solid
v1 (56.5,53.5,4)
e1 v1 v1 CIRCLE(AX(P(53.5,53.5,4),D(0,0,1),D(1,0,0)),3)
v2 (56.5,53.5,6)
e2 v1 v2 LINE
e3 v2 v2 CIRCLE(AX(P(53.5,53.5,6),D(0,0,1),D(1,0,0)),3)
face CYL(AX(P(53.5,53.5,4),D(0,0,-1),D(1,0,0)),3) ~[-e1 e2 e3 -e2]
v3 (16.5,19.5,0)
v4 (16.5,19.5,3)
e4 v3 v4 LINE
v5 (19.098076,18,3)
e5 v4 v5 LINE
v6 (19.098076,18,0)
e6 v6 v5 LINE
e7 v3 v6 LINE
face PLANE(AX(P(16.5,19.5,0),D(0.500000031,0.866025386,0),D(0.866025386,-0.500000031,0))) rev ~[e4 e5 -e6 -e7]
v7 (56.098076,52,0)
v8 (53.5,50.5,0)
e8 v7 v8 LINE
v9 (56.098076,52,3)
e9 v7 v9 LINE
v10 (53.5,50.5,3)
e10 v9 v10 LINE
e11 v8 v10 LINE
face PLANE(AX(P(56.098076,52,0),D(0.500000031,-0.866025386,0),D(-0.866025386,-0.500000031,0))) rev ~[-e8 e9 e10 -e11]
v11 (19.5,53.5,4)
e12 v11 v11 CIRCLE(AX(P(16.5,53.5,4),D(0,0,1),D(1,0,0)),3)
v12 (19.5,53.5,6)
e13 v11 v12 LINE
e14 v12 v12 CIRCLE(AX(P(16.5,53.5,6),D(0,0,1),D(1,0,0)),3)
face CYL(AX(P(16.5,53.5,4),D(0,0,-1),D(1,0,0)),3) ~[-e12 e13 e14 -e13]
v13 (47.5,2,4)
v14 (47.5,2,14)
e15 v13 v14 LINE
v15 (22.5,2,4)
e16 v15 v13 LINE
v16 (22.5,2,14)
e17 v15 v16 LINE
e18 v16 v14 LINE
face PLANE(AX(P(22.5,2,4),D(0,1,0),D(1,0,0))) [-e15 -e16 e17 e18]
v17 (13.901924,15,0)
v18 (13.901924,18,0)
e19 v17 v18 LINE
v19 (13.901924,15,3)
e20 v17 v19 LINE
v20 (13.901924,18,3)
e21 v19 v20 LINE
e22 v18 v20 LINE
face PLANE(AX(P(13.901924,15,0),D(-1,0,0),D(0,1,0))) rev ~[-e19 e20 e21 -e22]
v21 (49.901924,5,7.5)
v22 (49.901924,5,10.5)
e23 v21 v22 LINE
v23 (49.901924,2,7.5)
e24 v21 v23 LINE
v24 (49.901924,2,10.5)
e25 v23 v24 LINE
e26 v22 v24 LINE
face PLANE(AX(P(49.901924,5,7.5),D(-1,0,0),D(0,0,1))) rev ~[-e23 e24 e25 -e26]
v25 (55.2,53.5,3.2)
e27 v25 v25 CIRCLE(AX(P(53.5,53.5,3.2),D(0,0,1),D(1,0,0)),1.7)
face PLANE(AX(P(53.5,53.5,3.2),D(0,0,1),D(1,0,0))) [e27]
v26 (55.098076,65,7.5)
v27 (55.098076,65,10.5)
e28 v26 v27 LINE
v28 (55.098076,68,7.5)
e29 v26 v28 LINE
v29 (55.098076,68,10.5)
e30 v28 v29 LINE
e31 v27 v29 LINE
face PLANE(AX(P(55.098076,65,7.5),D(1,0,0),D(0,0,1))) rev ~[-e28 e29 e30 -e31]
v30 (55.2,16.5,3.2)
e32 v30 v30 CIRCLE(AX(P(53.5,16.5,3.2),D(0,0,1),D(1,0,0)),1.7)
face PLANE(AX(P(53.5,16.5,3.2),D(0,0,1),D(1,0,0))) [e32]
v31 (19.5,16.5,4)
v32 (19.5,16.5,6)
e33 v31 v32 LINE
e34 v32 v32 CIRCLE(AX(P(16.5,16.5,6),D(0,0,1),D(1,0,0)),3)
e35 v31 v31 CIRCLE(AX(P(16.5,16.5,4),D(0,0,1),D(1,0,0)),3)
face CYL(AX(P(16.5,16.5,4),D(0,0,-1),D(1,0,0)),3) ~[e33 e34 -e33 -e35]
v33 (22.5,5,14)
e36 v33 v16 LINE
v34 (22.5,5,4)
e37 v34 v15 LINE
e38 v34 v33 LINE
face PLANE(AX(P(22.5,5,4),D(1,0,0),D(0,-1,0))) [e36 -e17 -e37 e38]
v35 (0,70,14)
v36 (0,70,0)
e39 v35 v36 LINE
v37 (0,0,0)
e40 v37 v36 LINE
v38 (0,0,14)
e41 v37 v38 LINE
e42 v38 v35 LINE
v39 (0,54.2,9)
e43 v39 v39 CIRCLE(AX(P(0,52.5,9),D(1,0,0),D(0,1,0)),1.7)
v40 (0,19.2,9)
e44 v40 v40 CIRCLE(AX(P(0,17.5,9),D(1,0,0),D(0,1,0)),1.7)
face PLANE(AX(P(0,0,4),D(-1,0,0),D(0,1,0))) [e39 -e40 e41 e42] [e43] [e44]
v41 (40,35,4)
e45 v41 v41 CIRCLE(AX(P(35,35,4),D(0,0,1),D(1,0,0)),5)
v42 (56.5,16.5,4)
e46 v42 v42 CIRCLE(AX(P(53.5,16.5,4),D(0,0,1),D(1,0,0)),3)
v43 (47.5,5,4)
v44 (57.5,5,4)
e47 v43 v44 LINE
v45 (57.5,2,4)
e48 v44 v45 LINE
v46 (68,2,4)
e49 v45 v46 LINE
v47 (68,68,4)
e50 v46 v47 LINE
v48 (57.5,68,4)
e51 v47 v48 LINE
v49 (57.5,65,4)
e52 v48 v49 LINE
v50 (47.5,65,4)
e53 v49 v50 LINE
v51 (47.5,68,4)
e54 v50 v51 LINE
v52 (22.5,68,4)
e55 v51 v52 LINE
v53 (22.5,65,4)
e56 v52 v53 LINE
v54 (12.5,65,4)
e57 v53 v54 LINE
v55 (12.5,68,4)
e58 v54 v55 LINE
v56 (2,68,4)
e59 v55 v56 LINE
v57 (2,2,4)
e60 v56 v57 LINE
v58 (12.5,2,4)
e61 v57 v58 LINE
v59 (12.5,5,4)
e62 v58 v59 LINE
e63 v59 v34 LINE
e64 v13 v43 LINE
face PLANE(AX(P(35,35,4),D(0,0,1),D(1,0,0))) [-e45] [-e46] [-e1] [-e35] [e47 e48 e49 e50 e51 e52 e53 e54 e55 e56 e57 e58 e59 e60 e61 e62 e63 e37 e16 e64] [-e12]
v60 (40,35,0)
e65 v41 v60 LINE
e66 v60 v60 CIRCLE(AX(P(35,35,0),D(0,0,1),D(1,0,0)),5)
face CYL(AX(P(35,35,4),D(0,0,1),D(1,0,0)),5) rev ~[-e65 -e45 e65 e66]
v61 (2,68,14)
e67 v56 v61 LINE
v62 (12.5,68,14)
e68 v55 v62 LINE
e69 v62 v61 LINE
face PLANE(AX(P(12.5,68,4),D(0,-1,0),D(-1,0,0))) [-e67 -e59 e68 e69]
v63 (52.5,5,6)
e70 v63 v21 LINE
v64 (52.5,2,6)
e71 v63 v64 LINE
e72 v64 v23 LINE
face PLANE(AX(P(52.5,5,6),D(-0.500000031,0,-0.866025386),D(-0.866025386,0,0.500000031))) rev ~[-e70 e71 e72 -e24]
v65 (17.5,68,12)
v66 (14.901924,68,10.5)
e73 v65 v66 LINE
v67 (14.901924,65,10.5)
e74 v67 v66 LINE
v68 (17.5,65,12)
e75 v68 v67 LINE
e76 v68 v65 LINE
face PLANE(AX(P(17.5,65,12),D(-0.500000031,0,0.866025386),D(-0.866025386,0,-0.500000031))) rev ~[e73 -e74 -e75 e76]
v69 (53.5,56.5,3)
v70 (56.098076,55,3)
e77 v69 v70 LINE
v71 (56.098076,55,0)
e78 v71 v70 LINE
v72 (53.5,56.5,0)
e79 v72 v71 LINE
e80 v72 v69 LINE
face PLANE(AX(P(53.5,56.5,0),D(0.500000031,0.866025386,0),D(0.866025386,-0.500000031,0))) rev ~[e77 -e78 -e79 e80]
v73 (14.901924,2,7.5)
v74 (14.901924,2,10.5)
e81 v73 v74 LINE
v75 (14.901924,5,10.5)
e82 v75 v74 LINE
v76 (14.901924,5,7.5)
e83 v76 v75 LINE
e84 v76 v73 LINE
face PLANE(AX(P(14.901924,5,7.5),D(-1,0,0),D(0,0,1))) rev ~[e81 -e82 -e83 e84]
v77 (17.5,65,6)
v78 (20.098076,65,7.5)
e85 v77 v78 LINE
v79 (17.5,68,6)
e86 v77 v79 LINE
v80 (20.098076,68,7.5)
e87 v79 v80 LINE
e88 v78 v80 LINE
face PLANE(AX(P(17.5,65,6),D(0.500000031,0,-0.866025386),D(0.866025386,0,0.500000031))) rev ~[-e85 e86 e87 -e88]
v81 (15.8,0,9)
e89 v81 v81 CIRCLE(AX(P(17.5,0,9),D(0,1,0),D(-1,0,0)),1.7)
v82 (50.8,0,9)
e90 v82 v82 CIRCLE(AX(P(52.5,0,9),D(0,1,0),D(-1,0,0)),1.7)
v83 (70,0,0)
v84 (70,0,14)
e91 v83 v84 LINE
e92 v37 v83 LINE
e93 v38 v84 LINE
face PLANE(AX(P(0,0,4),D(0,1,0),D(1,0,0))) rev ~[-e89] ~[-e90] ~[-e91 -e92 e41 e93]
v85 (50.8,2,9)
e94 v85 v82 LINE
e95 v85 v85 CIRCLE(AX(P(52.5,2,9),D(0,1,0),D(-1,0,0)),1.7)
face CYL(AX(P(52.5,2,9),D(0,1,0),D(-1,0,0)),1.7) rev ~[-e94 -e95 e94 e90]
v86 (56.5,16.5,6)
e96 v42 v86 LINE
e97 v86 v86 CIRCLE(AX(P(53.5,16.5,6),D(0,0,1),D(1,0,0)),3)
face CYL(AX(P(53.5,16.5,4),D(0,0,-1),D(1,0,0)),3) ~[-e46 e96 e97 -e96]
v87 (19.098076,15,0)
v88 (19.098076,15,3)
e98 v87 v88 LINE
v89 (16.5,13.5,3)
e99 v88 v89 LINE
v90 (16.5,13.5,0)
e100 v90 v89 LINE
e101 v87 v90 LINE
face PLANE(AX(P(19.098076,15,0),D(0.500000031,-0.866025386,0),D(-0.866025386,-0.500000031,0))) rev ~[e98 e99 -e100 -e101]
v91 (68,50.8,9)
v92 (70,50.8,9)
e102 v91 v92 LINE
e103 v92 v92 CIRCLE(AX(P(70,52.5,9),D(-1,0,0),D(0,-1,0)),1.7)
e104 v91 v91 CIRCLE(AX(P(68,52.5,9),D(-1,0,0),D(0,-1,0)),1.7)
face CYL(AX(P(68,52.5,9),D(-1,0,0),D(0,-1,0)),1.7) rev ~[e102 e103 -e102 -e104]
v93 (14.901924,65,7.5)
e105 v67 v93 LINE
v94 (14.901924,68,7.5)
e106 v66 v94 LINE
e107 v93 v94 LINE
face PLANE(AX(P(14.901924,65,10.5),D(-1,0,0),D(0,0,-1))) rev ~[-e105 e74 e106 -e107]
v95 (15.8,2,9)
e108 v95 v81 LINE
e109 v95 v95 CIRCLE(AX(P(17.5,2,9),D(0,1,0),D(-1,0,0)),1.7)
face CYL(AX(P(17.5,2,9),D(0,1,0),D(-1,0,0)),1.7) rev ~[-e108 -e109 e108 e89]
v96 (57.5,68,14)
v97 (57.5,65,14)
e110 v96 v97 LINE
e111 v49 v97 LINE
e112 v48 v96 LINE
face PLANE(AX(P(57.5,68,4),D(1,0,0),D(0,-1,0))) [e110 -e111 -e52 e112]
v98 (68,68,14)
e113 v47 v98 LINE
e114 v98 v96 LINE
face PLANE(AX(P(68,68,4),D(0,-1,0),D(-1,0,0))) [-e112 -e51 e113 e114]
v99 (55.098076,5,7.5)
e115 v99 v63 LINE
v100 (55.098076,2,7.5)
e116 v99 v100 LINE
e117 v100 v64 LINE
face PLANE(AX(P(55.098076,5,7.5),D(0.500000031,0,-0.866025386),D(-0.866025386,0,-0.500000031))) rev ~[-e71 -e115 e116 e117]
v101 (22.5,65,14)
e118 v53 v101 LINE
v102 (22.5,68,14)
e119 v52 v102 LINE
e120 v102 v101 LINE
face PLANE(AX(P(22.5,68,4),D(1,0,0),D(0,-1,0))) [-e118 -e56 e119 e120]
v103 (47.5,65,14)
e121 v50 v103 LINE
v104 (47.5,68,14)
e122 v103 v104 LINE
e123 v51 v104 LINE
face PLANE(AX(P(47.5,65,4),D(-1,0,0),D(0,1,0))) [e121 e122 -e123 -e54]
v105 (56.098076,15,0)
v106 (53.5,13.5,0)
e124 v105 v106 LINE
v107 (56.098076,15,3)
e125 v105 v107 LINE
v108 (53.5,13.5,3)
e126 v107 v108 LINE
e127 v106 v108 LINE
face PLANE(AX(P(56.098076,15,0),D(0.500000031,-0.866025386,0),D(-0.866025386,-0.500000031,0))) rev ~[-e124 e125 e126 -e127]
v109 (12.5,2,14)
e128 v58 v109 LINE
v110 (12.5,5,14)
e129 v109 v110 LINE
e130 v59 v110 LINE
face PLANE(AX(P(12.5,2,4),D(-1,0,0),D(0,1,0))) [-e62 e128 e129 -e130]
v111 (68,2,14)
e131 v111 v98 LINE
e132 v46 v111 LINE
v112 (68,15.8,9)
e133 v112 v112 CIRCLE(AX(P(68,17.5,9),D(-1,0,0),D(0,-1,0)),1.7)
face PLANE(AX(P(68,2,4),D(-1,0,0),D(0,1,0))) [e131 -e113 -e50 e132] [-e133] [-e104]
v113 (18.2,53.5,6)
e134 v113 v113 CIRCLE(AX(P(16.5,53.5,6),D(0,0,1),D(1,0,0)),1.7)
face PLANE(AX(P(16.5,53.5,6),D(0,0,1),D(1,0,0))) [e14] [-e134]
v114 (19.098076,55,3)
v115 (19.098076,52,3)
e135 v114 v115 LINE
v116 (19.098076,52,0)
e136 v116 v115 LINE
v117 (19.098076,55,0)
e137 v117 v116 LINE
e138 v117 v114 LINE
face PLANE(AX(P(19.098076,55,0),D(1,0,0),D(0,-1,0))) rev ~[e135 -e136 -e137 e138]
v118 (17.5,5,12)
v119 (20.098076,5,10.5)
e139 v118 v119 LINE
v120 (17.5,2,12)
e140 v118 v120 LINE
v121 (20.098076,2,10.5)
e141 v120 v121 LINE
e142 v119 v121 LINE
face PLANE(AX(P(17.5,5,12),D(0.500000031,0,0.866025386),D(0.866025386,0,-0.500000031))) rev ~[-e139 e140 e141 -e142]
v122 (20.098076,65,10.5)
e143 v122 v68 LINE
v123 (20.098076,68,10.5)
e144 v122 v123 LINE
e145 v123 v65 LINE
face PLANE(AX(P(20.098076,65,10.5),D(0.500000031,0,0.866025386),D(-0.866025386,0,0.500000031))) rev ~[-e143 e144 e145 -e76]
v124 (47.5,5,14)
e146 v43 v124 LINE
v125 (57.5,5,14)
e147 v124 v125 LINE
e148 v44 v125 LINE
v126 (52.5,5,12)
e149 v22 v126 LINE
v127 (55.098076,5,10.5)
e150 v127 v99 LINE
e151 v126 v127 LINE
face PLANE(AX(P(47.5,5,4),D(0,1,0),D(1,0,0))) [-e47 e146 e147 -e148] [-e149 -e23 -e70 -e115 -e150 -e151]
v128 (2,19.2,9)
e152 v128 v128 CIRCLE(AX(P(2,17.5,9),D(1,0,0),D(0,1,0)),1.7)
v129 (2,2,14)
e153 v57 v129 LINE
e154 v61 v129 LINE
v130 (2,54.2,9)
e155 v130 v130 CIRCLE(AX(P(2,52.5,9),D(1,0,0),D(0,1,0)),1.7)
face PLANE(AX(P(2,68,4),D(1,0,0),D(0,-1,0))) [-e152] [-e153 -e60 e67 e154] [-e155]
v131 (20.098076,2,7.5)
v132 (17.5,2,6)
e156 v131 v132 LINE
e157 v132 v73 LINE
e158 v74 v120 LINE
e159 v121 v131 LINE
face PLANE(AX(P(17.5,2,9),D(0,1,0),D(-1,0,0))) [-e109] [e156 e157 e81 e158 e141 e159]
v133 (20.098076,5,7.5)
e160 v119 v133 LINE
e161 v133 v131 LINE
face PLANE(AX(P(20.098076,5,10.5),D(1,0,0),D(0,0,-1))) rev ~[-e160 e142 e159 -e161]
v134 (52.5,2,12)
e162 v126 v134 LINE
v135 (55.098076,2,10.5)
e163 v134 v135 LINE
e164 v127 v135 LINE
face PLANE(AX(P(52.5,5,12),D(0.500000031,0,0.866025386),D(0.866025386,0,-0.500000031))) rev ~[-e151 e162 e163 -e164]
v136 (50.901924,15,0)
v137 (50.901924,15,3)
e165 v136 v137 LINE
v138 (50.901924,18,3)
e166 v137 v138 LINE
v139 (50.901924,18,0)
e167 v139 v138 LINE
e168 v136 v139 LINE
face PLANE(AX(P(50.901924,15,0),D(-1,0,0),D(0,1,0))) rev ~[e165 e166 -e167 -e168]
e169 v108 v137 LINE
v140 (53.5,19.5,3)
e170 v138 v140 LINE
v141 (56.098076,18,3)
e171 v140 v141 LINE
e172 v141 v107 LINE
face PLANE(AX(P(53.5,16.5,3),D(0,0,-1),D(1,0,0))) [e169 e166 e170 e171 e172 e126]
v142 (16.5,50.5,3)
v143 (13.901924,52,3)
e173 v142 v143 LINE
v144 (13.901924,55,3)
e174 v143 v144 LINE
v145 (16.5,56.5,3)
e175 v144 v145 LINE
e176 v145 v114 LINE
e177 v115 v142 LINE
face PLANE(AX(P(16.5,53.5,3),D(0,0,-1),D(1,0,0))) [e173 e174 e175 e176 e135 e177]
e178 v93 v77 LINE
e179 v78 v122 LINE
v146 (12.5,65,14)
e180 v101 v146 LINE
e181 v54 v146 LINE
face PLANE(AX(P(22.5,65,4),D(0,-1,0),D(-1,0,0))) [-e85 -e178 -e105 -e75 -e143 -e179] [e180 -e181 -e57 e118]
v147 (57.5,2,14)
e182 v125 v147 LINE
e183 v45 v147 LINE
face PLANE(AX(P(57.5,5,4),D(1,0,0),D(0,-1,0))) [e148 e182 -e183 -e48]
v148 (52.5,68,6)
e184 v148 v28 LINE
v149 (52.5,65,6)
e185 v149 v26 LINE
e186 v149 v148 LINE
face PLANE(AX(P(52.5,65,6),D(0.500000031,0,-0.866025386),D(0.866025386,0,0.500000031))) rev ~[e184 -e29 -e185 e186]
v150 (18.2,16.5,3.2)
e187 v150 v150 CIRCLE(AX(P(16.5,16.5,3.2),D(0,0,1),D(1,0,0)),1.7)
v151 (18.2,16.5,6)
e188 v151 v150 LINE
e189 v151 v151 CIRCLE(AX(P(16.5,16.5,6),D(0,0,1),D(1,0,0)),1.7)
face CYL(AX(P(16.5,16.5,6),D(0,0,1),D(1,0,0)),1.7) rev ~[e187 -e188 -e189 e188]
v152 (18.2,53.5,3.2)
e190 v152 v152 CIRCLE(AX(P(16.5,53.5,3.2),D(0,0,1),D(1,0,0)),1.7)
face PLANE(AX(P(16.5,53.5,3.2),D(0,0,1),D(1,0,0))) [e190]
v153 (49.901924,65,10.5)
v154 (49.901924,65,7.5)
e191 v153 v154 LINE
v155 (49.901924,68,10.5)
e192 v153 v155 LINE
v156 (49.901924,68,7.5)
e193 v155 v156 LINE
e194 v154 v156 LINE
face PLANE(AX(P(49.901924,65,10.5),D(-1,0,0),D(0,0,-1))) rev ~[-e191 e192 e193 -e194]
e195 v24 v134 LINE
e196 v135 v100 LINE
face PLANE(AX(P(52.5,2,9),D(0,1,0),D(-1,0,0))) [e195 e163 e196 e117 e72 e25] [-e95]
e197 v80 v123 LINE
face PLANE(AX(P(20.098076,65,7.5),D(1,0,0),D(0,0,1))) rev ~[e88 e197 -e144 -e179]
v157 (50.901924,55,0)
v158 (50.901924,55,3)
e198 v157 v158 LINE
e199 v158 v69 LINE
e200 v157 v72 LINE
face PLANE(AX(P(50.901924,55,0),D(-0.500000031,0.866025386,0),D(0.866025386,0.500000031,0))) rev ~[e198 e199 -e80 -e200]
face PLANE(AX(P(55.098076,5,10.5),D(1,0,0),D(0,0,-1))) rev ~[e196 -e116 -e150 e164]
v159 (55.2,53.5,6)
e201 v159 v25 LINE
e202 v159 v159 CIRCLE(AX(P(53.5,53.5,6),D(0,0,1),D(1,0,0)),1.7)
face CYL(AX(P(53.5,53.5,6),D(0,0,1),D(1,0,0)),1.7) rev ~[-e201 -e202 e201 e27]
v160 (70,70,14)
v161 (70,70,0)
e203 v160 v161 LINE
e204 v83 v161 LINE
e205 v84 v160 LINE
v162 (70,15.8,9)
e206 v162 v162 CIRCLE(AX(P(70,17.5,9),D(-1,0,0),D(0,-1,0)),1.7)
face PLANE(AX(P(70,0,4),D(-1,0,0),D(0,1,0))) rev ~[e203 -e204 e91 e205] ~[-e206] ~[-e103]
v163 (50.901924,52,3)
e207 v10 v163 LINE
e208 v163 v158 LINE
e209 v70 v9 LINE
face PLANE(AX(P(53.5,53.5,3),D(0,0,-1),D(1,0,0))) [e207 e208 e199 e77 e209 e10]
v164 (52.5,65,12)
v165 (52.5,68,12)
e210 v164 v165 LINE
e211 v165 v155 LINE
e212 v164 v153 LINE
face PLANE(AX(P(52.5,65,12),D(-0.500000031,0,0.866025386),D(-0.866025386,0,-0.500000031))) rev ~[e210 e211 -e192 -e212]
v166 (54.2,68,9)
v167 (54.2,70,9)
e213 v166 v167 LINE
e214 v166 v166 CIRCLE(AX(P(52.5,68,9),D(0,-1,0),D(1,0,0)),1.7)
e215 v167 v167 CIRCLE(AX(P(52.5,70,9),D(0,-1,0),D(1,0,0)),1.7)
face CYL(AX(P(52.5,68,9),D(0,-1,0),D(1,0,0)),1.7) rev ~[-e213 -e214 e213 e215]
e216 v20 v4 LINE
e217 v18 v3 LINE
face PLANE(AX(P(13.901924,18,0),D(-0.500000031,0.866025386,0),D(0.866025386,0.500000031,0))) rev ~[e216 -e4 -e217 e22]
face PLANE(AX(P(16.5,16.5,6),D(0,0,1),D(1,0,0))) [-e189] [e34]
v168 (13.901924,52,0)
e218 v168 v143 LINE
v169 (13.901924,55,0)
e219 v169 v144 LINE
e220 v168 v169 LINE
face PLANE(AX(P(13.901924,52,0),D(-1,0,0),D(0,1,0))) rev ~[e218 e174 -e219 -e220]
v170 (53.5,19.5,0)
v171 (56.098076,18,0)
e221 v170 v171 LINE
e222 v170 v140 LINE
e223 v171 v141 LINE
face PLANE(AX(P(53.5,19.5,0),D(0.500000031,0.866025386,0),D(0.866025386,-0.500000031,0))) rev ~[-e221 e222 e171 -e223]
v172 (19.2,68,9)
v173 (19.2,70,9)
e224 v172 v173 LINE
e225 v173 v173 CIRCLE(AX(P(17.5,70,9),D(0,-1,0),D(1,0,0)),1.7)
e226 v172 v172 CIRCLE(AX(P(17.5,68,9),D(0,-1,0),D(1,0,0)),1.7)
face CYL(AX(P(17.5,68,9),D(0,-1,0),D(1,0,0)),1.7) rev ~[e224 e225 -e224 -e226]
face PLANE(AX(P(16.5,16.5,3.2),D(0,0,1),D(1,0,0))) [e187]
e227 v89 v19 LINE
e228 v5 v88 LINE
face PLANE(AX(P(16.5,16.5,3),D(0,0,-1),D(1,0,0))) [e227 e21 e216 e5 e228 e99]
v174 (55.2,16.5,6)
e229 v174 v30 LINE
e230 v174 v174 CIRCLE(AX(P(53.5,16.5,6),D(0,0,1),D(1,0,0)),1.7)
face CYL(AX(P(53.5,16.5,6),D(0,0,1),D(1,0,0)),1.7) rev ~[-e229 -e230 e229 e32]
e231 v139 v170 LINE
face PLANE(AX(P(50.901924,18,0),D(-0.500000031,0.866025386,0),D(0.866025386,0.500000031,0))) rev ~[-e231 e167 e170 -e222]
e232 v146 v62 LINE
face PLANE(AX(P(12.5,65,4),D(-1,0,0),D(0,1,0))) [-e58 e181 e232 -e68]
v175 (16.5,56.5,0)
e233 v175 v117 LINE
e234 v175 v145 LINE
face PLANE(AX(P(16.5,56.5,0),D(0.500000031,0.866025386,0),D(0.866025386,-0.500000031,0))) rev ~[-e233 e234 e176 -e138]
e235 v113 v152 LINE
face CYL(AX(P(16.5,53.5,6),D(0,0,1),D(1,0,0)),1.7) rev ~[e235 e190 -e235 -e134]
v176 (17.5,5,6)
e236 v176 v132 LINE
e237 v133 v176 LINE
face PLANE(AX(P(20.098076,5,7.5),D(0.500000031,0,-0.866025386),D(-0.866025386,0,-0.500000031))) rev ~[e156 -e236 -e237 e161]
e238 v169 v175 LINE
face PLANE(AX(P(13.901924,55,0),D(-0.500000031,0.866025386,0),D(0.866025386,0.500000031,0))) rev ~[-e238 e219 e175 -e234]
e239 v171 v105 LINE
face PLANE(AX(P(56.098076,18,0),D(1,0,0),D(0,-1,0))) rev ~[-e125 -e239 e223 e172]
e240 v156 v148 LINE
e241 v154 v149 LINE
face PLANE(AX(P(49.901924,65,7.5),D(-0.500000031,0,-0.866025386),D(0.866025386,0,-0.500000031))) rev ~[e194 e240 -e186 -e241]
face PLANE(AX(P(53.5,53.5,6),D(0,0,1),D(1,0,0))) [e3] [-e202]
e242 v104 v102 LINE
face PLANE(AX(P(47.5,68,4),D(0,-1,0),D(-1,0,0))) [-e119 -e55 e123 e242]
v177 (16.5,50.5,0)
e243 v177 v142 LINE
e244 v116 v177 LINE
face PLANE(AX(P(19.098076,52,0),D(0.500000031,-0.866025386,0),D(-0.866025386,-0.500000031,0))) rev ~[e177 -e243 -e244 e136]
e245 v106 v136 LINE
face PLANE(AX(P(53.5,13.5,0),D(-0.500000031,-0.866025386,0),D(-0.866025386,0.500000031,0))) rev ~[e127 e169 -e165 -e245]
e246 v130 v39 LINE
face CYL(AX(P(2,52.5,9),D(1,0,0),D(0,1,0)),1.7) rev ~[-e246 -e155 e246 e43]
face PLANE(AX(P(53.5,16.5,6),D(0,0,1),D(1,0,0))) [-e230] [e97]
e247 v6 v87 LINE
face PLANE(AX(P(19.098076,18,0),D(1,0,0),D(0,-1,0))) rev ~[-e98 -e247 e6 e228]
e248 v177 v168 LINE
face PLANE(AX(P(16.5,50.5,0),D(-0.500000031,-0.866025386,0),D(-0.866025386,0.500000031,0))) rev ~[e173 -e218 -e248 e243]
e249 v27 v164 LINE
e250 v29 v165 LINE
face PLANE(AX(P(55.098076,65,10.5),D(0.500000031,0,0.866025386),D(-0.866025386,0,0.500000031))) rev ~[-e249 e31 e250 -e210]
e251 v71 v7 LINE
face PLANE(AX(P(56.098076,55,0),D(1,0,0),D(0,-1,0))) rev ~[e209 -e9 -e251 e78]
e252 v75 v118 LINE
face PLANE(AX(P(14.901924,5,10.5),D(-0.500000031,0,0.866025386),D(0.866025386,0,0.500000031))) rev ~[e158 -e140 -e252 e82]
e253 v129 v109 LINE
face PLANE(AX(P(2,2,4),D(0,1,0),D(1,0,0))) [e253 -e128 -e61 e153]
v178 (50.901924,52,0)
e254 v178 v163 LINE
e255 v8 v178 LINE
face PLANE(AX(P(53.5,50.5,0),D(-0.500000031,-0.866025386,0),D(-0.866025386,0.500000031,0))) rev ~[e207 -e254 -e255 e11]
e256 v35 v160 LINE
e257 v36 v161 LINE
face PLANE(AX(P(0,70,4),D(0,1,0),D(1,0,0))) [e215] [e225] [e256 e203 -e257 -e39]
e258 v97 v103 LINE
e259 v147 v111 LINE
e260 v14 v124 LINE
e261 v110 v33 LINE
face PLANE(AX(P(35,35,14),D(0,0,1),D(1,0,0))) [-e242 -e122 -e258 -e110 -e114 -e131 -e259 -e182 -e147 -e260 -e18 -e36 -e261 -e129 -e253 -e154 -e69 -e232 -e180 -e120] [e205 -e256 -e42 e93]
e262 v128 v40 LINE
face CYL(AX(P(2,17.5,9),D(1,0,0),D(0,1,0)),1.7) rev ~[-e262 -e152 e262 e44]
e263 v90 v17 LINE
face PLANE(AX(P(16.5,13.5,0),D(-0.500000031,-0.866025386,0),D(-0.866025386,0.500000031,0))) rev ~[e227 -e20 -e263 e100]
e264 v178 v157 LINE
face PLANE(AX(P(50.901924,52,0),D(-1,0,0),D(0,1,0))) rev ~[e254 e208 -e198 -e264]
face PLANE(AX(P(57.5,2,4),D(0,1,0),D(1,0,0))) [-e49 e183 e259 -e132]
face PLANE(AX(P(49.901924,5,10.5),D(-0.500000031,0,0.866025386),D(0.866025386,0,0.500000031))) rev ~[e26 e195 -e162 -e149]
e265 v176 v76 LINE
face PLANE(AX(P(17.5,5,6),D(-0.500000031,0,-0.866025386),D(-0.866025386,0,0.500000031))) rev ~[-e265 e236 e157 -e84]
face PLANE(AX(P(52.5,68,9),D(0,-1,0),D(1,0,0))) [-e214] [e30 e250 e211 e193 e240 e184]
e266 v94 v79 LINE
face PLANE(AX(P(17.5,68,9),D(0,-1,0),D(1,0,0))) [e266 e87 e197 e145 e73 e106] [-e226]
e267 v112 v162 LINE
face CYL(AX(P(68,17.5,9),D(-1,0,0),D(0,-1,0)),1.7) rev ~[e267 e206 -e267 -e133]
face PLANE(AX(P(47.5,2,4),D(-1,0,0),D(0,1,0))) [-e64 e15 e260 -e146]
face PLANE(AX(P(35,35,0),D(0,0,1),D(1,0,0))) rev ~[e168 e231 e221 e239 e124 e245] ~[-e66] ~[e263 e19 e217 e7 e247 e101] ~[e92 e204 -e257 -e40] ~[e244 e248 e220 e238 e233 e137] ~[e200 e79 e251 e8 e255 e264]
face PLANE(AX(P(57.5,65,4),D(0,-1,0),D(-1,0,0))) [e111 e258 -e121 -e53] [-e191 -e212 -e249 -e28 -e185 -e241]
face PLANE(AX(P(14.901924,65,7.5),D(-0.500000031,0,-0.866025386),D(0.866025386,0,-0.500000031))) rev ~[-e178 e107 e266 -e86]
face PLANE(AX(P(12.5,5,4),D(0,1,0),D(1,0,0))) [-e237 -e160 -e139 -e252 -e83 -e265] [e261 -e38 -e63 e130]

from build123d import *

# Parameters (mm, degrees)
SKETCH_W        = 70
SKETCH_H        = 70
PAD_DEPTH       = 4
SKETCH001_W     = 70
SKETCH001_H     = 70
PAD001_DEPTH    = 10
SKETCH002_R     = 1.7
POCKET_DEPTH    = 2
SKETCH003_R     = 1.7
POCKET001_DEPTH = 2
POCKET002_DEPTH = 3
SKETCH005_R     = 1.7
POCKET003_DEPTH = 2
POCKET004_DEPTH = 3
SKETCH007_R     = 1.7
POCKET005_DEPTH = 2
POCKET006_DEPTH = 3
SKETCH009_R     = 3
PAD002_DEPTH    = 2
SKETCH010_R     = 1.7
POCKET007_DEPTH = 2.8
SKETCH011_R     = 5
POCKET008_DEPTH = 4


with BuildPart() as part:
    # Sketch → Pad (new body)
    with BuildSketch(Plane.XY):
        with Locations((35, 35)):
            Rectangle(SKETCH_W, SKETCH_H)
    extrude(amount=PAD_DEPTH)

    # Sketch001 → Pad001 (new body)
    with BuildSketch(Plane.XY.offset(4)):
        with Locations((35, 35)):
            Rectangle(SKETCH001_W, SKETCH001_H)
        Polygon((2, 68), (2, 2), (12.5, 2), (12.5, 5), (22.5, 5), (22.5, 2), (47.5, 2), (47.5, 5), (57.5, 5), (57.5, 2), (68, 2), (68, 68), (57.5, 68), (57.5, 65), (47.5, 65), (47.5, 68), (22.5, 68), (22.5, 65), (12.5, 65), (12.5, 68), align=None, mode=Mode.SUBTRACT)
    extrude(amount=PAD001_DEPTH)

    # Sketch002 → Pocket (cut)
    with BuildSketch(Plane.YZ.offset(2)):
        with Locations((17.5, 9)):
            Circle(SKETCH002_R)
        with Locations((52.5, 9)):
            Circle(SKETCH002_R)
    extrude(amount=-POCKET_DEPTH, mode=Mode.SUBTRACT)

    # Sketch003 → Pocket001 (cut)
    with BuildSketch(Plane(origin=(68, 0, 0), x_dir=(0, -1, 0), z_dir=(-1, 0, 0))):
        with Locations((-52.5, 9)):
            Circle(SKETCH003_R)
        with Locations((-17.5, 9)):
            Circle(SKETCH003_R)
    extrude(amount=-POCKET001_DEPTH, mode=Mode.SUBTRACT)

    # Sketch004 → Pocket002 (cut)
    with BuildSketch(Plane(origin=(0, 5, 0), x_dir=(-1, 0, 0), z_dir=(0, 1, 0))):
        Polygon((-49.901924, 10.5), (-52.5, 12), (-55.098076, 10.5), (-55.098076, 7.5), (-52.5, 6), (-49.901924, 7.5), align=None)
        Polygon((-14.901924, 10.5), (-17.5, 12), (-20.098076, 10.5), (-20.098076, 7.5), (-17.5, 6), (-14.901924, 7.5), align=None)
    extrude(amount=-POCKET002_DEPTH, mode=Mode.SUBTRACT)

    # Sketch005 → Pocket003 (cut)
    with BuildSketch(Plane(origin=(0, 2, 0), x_dir=(-1, 0, 0), z_dir=(0, 1, 0))):
        with Locations((-52.5, 9)):
            Circle(SKETCH005_R)
        with Locations((-17.5, 9)):
            Circle(SKETCH005_R)
    extrude(amount=-POCKET003_DEPTH, mode=Mode.SUBTRACT)

    # Sketch006 → Pocket004 (cut)
    with BuildSketch(Plane.XZ.offset(-65)):
        Polygon((20.098076, 10.5), (17.5, 12), (14.901924, 10.5), (14.901924, 7.5), (17.5, 6), (20.098076, 7.5), align=None)
        Polygon((55.098076, 10.5), (52.5, 12), (49.901924, 10.5), (49.901924, 7.5), (52.5, 6), (55.098076, 7.5), align=None)
    extrude(amount=-POCKET004_DEPTH, mode=Mode.SUBTRACT)

    # Sketch007 → Pocket005 (cut)
    with BuildSketch(Plane.XZ.offset(-68)):
        with Locations((17.5, 9)):
            Circle(SKETCH007_R)
        with Locations((52.5, 9)):
            Circle(SKETCH007_R)
    extrude(amount=-POCKET005_DEPTH, mode=Mode.SUBTRACT)

    # Sketch008 → Pocket006 (cut)
    with BuildSketch(Plane(origin=(0, 0, 0), x_dir=(1, 0, 0), z_dir=(0, 0, -1))):
        Polygon((19.098076, -15), (16.5, -13.5), (13.901924, -15), (13.901924, -18), (16.5, -19.5), (19.098076, -18), align=None)
        Polygon((56.098076, -15), (53.5, -13.5), (50.901924, -15), (50.901924, -18), (53.5, -19.5), (56.098076, -18), align=None)
        Polygon((56.098076, -55), (56.098076, -52), (53.5, -50.5), (50.901924, -52), (50.901924, -55), (53.5, -56.5), align=None)
        Polygon((19.098076, -52), (16.5, -50.5), (13.901924, -52), (13.901924, -55), (16.5, -56.5), (19.098076, -55), align=None)
    extrude(amount=-POCKET006_DEPTH, mode=Mode.SUBTRACT)

    # Sketch009 → Pad002 (new body)
    with BuildSketch(Plane.XY.offset(4)):
        with Locations((16.5, 53.5)):
            Circle(SKETCH009_R)
        with Locations((53.5, 53.5)):
            Circle(SKETCH009_R)
        with Locations((53.5, 16.5)):
            Circle(SKETCH009_R)
        with Locations((16.5, 16.5)):
            Circle(SKETCH009_R)
    extrude(amount=PAD002_DEPTH)

    # Sketch010 → Pocket007 (cut)
    with BuildSketch(Plane.XY.offset(6)):
        with Locations((16.5, 53.5)):
            Circle(SKETCH010_R)
        with Locations((53.5, 53.5)):
            Circle(SKETCH010_R)
        with Locations((53.5, 16.5)):
            Circle(SKETCH010_R)
        with Locations((16.5, 16.5)):
            Circle(SKETCH010_R)
    extrude(amount=-POCKET007_DEPTH, mode=Mode.SUBTRACT)

    # Sketch011 → Pocket008 (cut)
    with BuildSketch(Plane.XY.offset(4)):
        with Locations((35, 35)):
            Circle(SKETCH011_R)
    extrude(amount=-POCKET008_DEPTH, mode=Mode.SUBTRACT)


solid = part.part
